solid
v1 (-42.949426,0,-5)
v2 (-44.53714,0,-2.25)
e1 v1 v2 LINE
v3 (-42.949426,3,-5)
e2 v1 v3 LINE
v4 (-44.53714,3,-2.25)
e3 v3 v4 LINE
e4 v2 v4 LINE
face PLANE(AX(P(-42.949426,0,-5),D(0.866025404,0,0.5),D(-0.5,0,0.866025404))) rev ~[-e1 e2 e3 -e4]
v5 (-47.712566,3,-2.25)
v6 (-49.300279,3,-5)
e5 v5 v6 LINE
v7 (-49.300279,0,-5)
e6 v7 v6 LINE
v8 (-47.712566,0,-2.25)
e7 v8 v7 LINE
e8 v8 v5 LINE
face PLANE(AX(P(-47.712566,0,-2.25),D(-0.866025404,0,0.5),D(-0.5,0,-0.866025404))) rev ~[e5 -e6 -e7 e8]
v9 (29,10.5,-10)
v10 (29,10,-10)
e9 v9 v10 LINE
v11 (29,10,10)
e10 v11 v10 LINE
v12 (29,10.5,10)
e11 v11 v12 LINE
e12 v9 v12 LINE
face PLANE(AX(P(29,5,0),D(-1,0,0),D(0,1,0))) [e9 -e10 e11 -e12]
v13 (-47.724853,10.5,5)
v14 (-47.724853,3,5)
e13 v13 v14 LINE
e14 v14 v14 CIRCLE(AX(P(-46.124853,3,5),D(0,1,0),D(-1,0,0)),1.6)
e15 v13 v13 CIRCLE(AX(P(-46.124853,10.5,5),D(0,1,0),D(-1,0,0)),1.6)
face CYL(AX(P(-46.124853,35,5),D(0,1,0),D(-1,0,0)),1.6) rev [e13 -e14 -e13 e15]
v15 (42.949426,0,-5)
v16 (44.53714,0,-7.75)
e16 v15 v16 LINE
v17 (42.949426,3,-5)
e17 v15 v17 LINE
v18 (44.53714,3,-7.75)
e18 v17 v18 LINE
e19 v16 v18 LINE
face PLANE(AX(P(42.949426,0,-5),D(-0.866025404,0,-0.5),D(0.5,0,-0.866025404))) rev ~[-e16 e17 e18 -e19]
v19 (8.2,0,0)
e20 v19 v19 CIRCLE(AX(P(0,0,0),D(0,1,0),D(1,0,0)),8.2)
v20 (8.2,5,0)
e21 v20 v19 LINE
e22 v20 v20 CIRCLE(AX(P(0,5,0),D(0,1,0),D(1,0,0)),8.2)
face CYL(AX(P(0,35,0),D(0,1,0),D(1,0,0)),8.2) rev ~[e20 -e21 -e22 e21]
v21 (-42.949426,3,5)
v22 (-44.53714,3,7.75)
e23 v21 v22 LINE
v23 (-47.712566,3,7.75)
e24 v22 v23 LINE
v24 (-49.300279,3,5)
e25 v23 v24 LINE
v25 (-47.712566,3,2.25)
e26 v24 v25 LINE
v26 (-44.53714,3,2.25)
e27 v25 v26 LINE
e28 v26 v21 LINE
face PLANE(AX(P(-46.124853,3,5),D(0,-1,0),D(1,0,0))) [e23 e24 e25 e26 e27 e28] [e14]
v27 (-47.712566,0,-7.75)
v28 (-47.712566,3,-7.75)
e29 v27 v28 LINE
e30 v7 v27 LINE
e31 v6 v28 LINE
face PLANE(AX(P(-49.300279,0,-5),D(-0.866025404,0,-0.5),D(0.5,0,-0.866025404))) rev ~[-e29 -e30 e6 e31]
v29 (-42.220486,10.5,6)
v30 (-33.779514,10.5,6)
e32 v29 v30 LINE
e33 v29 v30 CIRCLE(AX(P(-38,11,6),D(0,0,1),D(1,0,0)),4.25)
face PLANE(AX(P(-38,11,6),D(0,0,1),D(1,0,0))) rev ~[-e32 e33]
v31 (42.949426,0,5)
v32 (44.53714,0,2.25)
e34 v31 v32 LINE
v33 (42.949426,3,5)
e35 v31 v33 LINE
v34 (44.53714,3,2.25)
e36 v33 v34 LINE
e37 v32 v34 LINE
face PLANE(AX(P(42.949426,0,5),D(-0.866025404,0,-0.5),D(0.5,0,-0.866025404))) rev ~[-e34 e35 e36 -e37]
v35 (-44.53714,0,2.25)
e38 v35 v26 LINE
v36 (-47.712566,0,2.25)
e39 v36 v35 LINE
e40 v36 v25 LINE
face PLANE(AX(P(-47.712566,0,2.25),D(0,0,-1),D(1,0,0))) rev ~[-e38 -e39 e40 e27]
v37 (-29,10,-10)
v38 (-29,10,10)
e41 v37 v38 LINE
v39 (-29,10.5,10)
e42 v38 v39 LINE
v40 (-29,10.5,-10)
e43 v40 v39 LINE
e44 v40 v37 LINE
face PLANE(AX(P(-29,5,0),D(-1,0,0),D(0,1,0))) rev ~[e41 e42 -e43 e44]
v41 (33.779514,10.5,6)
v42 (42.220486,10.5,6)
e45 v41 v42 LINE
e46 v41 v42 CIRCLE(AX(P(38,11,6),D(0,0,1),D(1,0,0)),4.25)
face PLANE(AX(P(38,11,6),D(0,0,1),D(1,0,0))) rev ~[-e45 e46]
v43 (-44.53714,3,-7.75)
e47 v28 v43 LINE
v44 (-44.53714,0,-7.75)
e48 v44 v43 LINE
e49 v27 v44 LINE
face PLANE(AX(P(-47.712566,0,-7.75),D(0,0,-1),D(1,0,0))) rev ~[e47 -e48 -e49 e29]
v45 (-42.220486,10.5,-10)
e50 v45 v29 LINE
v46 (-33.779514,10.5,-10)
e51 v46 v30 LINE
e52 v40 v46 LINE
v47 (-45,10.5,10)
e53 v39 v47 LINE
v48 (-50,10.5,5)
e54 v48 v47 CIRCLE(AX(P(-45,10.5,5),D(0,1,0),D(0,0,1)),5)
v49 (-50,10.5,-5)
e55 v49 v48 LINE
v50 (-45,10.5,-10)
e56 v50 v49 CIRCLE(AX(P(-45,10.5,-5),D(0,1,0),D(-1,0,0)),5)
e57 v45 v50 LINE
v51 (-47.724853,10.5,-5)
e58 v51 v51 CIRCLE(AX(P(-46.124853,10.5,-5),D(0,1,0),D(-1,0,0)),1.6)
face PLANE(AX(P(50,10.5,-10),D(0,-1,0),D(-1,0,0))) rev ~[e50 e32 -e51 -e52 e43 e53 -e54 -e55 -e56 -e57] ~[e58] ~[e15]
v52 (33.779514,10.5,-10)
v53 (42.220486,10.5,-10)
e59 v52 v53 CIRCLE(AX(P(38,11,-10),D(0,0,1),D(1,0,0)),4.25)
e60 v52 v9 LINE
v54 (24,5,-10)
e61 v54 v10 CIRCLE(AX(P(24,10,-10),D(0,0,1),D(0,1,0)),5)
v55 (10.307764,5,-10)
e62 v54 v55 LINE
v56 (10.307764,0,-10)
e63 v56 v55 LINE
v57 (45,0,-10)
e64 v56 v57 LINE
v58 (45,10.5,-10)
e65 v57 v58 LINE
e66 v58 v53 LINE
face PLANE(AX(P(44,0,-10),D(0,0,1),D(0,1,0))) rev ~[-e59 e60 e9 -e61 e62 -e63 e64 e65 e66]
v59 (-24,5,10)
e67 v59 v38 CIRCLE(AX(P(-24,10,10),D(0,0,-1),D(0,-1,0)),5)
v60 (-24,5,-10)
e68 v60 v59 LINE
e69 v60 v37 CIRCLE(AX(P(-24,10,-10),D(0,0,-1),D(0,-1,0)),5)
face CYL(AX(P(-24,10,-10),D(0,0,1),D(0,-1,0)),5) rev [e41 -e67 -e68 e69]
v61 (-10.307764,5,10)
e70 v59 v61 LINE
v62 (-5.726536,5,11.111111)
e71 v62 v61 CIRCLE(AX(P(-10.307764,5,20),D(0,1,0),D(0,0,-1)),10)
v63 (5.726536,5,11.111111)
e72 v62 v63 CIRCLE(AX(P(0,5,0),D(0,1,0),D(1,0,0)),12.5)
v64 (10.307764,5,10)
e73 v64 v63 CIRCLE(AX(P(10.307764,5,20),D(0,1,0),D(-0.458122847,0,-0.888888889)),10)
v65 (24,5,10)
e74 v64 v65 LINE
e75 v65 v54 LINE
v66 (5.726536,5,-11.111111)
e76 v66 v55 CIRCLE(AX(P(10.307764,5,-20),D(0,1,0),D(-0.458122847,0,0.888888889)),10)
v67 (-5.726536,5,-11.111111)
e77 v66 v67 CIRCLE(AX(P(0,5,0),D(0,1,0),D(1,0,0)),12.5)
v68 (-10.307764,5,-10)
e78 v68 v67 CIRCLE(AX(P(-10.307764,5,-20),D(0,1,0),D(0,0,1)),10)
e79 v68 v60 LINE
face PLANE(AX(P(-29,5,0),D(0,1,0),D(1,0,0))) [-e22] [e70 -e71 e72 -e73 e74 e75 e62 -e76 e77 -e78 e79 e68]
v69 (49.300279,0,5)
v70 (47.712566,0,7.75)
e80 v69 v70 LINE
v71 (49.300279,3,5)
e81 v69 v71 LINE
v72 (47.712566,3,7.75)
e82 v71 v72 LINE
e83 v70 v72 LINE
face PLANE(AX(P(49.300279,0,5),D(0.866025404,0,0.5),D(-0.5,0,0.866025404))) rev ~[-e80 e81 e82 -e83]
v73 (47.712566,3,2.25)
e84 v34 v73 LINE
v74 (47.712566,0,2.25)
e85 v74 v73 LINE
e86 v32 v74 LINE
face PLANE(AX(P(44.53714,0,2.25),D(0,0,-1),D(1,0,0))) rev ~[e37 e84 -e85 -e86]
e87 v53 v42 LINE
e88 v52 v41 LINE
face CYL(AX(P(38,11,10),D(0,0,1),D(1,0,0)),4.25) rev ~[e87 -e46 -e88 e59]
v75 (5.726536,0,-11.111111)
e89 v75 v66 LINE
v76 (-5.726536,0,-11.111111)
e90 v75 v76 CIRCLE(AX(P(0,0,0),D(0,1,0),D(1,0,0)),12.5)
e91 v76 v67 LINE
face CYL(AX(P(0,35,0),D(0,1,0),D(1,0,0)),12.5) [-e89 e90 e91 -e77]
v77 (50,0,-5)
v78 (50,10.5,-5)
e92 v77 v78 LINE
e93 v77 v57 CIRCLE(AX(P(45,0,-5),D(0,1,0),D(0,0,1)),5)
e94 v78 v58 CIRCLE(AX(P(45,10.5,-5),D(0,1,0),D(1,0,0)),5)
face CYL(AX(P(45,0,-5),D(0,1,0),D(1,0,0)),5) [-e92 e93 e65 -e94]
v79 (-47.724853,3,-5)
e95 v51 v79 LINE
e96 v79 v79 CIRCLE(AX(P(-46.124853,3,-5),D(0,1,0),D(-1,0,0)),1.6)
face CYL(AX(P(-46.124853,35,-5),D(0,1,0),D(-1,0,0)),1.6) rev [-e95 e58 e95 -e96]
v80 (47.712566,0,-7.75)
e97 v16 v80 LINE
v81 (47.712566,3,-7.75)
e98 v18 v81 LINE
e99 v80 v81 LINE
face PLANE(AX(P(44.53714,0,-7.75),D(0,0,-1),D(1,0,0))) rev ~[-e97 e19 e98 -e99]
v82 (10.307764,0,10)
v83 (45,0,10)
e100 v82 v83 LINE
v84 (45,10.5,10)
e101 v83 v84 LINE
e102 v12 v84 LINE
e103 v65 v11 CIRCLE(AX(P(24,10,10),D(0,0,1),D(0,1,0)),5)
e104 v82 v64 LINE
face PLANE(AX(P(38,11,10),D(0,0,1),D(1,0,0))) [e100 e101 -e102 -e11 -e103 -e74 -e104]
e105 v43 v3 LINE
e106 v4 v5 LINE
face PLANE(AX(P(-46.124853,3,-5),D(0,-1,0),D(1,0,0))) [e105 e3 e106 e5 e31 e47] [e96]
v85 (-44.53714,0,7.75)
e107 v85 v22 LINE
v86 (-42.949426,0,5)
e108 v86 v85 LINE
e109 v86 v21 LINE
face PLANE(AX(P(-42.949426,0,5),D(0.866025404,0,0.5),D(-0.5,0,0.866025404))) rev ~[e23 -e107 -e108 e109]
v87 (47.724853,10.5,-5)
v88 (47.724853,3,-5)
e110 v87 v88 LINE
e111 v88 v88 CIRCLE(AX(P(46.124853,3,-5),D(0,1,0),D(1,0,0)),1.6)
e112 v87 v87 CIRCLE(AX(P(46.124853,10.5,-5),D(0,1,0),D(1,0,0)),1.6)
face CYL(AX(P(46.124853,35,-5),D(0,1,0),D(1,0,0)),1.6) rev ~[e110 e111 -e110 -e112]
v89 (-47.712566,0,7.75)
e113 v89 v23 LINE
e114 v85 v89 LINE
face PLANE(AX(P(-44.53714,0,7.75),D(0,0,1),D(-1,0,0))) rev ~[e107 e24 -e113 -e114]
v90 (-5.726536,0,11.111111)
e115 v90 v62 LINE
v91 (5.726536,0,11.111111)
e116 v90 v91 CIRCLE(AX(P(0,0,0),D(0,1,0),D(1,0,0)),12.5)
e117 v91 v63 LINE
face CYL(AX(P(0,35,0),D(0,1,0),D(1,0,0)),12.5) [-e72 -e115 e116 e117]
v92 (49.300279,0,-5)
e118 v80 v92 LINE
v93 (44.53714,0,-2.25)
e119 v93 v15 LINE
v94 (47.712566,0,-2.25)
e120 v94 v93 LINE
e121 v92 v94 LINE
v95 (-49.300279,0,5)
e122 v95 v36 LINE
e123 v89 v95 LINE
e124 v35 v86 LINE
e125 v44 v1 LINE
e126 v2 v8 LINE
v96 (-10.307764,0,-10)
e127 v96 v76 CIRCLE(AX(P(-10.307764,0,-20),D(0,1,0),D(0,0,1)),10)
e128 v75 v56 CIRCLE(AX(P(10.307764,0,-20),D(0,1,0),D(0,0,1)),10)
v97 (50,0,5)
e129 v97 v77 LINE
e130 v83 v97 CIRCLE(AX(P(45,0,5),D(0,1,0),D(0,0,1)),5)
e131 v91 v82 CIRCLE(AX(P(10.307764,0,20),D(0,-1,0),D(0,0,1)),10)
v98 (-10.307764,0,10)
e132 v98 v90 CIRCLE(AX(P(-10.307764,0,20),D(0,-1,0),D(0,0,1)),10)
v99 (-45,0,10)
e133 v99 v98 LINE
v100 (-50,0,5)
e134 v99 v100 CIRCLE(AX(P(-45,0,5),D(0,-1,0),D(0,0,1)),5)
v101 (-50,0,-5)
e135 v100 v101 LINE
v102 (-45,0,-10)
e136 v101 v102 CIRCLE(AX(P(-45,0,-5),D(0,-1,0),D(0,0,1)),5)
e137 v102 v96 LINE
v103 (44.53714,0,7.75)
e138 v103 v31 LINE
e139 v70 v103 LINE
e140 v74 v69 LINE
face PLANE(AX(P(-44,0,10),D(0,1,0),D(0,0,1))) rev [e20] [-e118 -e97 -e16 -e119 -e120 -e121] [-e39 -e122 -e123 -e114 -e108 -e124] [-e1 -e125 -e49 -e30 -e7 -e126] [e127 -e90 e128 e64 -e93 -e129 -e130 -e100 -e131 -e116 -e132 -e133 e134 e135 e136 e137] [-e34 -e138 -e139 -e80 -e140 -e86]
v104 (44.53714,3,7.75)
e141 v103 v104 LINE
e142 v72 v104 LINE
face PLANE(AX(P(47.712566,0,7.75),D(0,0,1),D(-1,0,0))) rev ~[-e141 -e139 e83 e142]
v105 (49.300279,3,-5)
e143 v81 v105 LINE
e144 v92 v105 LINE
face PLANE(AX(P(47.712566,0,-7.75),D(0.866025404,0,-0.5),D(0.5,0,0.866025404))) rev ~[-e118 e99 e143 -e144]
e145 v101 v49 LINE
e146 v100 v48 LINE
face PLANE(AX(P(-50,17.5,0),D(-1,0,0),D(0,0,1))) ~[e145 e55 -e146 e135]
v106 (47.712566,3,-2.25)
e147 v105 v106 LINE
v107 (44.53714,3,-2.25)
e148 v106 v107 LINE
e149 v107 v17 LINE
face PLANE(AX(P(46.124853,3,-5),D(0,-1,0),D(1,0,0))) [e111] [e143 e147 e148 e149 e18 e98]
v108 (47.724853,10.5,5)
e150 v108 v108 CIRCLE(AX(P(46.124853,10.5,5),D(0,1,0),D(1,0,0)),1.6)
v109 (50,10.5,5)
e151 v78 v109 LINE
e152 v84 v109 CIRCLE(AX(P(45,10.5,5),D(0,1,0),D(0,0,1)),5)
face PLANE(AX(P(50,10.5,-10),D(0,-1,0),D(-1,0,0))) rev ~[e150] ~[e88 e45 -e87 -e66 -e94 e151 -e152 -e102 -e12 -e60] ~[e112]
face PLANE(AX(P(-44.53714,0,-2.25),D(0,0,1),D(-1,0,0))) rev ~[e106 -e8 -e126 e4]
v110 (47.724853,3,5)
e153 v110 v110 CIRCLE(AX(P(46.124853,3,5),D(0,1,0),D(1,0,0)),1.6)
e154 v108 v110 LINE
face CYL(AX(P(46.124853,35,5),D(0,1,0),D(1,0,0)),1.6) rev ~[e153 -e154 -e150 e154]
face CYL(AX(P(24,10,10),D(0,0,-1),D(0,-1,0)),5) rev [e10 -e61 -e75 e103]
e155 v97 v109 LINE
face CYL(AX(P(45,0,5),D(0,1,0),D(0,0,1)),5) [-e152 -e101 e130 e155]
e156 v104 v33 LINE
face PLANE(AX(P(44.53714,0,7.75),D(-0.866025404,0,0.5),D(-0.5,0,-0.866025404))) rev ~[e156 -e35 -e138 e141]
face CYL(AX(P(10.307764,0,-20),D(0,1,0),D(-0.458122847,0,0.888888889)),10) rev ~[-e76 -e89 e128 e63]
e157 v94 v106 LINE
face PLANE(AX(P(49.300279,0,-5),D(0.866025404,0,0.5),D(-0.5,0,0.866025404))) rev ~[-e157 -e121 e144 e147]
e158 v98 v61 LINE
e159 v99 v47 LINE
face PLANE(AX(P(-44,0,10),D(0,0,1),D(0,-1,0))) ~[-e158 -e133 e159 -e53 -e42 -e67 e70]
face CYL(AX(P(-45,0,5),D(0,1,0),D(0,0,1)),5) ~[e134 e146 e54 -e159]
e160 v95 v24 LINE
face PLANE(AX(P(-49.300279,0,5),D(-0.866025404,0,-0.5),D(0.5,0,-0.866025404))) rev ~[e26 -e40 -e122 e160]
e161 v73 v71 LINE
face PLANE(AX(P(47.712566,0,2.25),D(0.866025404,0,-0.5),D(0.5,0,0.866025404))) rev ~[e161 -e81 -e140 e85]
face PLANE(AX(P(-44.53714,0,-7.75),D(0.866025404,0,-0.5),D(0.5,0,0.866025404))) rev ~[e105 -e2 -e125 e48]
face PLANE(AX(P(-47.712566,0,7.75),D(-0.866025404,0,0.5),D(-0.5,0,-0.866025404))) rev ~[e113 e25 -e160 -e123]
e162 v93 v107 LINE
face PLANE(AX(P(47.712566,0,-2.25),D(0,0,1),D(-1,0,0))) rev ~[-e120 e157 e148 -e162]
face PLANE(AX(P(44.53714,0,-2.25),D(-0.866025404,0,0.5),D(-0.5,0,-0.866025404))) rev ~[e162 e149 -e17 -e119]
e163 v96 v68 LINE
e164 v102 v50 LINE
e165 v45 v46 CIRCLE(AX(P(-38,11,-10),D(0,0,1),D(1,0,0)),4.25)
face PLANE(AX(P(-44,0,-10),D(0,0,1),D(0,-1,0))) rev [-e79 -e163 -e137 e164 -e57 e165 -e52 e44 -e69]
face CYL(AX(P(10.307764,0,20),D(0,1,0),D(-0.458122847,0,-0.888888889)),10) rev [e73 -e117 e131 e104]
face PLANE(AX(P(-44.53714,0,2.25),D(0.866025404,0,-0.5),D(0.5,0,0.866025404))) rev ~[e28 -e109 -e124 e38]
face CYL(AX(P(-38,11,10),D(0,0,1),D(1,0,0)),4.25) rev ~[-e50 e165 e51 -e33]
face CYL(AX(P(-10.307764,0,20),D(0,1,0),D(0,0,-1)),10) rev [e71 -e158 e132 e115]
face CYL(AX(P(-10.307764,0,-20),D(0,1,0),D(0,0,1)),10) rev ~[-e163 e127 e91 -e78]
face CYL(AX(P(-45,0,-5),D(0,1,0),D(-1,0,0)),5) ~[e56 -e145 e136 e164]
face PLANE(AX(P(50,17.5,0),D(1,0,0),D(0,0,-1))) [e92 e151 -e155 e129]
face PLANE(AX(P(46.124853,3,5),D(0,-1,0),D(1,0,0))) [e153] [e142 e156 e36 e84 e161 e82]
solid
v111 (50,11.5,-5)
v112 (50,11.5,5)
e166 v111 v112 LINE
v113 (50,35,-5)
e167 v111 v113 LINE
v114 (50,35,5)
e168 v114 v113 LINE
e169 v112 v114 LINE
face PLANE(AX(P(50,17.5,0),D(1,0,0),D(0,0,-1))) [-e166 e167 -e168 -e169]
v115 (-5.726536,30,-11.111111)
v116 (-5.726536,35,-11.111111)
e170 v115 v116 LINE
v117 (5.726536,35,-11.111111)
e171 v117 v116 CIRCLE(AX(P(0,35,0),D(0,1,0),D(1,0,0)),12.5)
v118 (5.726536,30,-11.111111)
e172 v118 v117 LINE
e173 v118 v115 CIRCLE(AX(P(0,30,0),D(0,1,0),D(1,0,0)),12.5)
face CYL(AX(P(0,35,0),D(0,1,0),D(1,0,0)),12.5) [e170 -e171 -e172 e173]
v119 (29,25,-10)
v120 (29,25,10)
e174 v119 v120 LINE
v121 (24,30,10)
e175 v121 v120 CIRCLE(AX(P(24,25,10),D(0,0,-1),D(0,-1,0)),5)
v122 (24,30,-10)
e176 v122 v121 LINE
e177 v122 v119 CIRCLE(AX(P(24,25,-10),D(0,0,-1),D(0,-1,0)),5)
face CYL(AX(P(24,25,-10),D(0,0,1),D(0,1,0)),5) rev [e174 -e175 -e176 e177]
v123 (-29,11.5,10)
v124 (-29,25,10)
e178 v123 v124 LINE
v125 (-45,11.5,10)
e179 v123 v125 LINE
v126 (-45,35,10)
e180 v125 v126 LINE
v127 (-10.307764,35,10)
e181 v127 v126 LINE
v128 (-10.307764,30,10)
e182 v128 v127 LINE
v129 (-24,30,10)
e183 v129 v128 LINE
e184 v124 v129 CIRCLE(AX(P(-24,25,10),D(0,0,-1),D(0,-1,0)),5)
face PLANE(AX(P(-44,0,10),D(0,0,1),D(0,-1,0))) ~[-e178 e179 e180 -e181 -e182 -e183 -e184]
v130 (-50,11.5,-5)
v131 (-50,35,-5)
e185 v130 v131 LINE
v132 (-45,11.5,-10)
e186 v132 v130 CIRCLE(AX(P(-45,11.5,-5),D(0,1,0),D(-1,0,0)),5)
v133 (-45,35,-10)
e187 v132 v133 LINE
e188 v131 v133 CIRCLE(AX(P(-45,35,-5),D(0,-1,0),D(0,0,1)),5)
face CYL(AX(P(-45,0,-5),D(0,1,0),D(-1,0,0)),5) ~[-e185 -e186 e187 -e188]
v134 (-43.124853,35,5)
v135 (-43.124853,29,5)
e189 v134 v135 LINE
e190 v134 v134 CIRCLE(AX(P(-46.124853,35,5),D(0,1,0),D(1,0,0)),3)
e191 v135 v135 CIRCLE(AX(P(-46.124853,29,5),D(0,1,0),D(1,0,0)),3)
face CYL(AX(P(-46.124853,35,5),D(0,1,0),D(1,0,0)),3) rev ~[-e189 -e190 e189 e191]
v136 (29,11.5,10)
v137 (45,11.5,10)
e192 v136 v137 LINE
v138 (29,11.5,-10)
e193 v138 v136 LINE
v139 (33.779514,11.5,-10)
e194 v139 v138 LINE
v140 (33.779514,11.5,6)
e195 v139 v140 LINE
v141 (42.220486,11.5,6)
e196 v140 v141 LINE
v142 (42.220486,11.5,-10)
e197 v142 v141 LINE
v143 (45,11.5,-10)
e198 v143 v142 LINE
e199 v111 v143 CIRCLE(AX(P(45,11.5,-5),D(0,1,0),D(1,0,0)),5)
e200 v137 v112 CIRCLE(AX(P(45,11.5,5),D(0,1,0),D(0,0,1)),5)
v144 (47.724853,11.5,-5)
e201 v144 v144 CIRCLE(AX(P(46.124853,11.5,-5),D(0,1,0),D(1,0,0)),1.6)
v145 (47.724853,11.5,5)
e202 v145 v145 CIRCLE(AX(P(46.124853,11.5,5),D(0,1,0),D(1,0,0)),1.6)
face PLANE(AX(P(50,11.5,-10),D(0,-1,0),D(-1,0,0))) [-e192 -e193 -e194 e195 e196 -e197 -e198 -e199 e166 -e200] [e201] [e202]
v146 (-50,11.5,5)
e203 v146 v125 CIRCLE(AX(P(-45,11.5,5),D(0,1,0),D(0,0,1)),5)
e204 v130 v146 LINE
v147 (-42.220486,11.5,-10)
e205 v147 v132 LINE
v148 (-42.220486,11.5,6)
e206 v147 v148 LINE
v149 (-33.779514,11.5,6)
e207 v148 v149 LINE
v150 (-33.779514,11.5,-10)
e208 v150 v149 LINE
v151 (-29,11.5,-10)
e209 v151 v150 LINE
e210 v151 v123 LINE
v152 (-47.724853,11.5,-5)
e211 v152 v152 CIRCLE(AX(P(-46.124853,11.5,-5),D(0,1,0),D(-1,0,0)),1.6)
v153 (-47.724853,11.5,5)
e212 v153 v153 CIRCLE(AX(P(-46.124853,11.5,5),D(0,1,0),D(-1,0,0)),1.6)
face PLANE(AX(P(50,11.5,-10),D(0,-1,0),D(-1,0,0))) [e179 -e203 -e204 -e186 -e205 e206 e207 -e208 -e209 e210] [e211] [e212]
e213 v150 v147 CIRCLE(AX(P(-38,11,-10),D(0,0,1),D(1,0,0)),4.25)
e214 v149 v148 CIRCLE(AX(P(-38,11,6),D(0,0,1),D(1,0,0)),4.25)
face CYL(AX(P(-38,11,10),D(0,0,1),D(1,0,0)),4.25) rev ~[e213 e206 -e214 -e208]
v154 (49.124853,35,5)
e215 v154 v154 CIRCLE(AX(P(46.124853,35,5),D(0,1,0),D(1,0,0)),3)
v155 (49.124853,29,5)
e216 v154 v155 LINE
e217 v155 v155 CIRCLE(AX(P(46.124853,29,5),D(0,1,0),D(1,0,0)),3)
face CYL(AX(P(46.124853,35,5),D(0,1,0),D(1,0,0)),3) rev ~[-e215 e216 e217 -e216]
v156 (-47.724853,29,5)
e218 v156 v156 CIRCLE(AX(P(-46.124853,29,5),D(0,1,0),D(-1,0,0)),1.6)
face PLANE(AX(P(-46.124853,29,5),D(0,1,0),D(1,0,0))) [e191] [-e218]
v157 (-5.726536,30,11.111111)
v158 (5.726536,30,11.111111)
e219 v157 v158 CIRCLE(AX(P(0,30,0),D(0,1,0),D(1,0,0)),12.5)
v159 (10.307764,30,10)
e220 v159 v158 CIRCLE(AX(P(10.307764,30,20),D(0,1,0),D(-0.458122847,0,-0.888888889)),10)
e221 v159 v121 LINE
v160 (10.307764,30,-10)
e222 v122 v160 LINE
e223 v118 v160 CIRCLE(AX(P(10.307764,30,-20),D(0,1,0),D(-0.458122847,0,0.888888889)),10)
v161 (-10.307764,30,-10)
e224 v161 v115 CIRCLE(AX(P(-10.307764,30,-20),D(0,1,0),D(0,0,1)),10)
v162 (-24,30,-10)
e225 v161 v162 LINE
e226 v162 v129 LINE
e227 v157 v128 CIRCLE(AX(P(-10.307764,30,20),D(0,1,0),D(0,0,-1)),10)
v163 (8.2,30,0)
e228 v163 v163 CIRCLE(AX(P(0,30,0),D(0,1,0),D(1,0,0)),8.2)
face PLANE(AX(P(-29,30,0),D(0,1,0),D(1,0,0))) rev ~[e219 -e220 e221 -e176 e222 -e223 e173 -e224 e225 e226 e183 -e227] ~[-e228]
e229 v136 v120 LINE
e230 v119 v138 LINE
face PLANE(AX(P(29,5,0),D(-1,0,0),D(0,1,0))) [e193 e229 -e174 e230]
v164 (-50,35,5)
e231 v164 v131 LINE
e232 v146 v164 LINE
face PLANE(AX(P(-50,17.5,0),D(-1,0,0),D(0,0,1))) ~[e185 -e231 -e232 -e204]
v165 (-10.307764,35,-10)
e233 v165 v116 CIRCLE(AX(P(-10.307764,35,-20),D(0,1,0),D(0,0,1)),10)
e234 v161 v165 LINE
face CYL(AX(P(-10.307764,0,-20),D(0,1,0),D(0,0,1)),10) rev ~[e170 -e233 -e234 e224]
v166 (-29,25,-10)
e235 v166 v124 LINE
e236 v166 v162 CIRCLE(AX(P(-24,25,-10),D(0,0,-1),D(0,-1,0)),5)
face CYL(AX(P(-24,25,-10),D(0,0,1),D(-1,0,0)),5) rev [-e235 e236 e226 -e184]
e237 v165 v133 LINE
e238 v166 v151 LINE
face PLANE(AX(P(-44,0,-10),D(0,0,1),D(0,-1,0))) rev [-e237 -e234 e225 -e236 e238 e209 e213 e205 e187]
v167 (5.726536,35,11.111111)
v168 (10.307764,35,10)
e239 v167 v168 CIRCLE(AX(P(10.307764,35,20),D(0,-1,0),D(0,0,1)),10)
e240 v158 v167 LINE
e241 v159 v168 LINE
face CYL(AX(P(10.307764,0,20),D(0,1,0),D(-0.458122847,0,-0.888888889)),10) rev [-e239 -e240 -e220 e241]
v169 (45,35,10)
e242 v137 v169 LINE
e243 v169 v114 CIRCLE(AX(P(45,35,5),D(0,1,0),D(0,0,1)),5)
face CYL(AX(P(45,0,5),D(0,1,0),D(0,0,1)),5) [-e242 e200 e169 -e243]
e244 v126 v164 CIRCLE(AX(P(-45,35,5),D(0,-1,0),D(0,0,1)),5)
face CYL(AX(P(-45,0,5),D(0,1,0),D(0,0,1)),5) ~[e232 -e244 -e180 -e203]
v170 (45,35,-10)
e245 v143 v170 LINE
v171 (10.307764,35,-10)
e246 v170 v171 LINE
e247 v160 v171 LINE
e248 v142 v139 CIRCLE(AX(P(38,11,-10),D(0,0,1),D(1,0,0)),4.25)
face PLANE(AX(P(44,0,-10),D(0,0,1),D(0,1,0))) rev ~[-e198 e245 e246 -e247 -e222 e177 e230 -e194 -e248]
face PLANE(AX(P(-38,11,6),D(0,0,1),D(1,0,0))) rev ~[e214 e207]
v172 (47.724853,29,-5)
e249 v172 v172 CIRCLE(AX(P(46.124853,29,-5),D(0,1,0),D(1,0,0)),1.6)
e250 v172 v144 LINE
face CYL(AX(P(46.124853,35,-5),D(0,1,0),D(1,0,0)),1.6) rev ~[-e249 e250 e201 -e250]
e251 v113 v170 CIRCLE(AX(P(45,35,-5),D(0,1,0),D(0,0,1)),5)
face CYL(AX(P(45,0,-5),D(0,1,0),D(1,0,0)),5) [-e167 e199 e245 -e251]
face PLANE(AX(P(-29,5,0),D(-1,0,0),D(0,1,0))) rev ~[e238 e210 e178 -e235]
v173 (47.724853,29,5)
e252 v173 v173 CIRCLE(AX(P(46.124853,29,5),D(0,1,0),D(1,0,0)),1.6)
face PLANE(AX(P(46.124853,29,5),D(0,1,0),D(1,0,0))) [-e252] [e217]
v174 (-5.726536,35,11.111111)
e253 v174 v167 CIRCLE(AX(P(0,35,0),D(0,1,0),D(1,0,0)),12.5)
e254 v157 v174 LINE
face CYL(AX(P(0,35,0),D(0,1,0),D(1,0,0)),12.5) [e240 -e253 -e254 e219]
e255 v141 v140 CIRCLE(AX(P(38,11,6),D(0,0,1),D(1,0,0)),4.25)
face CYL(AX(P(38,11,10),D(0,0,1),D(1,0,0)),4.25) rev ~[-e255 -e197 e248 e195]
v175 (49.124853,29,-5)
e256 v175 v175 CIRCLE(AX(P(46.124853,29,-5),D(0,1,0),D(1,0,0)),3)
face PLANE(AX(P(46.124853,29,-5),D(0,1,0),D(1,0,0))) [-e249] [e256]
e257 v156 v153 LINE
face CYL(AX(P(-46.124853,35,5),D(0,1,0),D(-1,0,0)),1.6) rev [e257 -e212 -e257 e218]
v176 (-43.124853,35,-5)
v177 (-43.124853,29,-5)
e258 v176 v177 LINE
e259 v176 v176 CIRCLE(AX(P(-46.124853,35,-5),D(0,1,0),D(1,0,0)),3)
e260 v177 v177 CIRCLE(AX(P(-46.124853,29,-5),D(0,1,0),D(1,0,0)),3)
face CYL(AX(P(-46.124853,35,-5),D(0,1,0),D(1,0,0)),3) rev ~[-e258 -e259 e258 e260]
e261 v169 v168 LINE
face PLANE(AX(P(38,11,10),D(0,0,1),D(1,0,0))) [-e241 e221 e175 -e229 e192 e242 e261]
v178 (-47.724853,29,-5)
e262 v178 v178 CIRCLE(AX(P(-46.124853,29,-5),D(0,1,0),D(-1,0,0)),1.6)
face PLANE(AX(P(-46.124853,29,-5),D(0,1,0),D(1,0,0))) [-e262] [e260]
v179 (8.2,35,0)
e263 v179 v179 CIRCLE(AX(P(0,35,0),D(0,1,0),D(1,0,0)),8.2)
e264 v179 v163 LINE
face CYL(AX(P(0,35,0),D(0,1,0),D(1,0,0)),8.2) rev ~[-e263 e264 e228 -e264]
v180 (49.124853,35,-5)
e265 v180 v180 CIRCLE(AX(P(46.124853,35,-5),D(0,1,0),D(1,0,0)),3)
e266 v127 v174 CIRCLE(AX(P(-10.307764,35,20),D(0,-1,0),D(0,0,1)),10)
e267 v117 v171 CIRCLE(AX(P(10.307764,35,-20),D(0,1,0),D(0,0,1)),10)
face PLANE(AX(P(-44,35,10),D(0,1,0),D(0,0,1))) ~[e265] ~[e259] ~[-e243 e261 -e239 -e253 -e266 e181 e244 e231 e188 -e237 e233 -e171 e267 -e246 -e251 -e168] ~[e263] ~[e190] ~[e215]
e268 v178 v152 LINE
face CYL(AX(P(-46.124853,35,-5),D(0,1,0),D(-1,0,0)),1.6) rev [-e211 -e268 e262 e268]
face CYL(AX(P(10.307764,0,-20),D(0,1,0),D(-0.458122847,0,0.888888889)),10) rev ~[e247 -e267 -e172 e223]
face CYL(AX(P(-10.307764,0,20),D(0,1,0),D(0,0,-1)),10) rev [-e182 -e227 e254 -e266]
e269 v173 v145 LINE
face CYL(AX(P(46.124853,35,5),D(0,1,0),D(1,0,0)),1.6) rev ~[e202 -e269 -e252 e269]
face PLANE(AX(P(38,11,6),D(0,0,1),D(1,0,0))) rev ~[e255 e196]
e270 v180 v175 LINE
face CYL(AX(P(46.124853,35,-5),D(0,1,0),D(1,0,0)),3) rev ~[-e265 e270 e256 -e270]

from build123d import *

# Parameters (mm, degrees)
SKETCH1_W               = 88
SKETCH1_H               = 20
BOSS_EXTRUDE1_DEPTH     = 35
SKETCH2_R               = 4.25
CUT_EXTRUDE1_DEPTH      = 21
SKETCH7_R               = 12.5
BOSS_EXTRUDE2_DEPTH     = 35
SKETCH4_R               = 8.2
CUT_EXTRUDE3_DEPTH      = 36
FILLET2_R               = 10
SKETCH10_W              = 58
SKETCH10_H              = 25
CUT_EXTRUDE5_DEPTH      = 13.5
CUT_EXTRUDE5_DEPTH_BACK = 13.5
FILLET3_R               = 5
SKETCH11_W              = 20
SKETCH11_H              = 35
BOSS_EXTRUDE3_DEPTH     = 6
SKETCH12_R              = 1.6
CUT_EXTRUDE6_DEPTH      = 36
FILLET5_R               = 5
SKETCH13_R              = 4.25
BOSS_EXTRUDE4_DEPTH     = 4
SKETCH14_W              = 100
SKETCH14_H              = 1
CUT_EXTRUDE7_DEPTH      = 23.5
SKETCH15_R              = 3
CUT_EXTRUDE8_DEPTH      = 6
CUT_EXTRUDE9_DEPTH      = 3


with BuildPart() as part:
    # Sketch1 → Boss-Extrude1 (new body)
    with BuildSketch(Plane(origin=(0, 0, 0), x_dir=(1, 0, 0), z_dir=(0, 1, 0))):
        Rectangle(SKETCH1_W, SKETCH1_H)
    extrude(amount=BOSS_EXTRUDE1_DEPTH)

    # Sketch2 → Cut-Extrude1 (cut, through all)
    with BuildSketch(Plane.XY.offset(10)):
        with Locations((-38, 11)):
            Circle(SKETCH2_R)
        with Locations((38, 11)):
            Circle(SKETCH2_R)
    extrude(amount=-CUT_EXTRUDE1_DEPTH, mode=Mode.SUBTRACT)

    # Sketch7 → Boss-Extrude2 (add)
    with BuildSketch(Plane(origin=(0, 35, 0), x_dir=(1, 0, 0), z_dir=(0, 1, 0))):
        Circle(SKETCH7_R)
    extrude(amount=-BOSS_EXTRUDE2_DEPTH)

    # Sketch4 → Cut-Extrude3 (cut, through all)
    with BuildSketch(Plane(origin=(0, 35, 0), x_dir=(1, 0, 0), z_dir=(0, 1, 0))):
        Circle(SKETCH4_R)
    extrude(amount=-CUT_EXTRUDE3_DEPTH, mode=Mode.SUBTRACT)

    # Fillet2
    fillet2_edges = [part.edges().sort_by_distance(p)[0] for p in [
        (7.5, 17.5, -10),
        (7.5, 17.5, 10),
        (-7.5, 17.5, -10),
        (-7.5, 17.5, 10),
    ]]
    fillet(fillet2_edges, radius=FILLET2_R)

    # Sketch10 → Cut-Extrude5 (cut, two sides)
    with BuildSketch(Plane.XY) as cut_extrude5_sk:
        with Locations((0, 17.5)):
            Rectangle(SKETCH10_W, SKETCH10_H)
    extrude(amount=CUT_EXTRUDE5_DEPTH, mode=Mode.SUBTRACT)
    extrude(cut_extrude5_sk.sketch, amount=-CUT_EXTRUDE5_DEPTH_BACK, mode=Mode.SUBTRACT)

    # Fillet3
    fillet3_edges = [part.edges().sort_by_distance(p)[0] for p in [
        (-29, 30, 0),
        (-29, 5, 0),
        (29, 30, 0),
        (29, 5, 0),
    ]]
    fillet(fillet3_edges, radius=FILLET3_R)

    # Sketch11 → Boss-Extrude3 (add)
    with BuildSketch(Plane(origin=(44, 0, 0), x_dir=(0, 0, -1), z_dir=(1, 0, 0))):
        with Locations((0, 17.5)):
            Rectangle(SKETCH11_W, SKETCH11_H)
    boss_extrude3 = extrude(amount=BOSS_EXTRUDE3_DEPTH)

    # Sketch12 → Cut-Extrude6 (cut, through all)
    with BuildSketch(Plane(origin=(0, 35, 0), x_dir=(1, 0, 0), z_dir=(0, 1, 0))):
        with Locations((46.124852936, 5)):
            Circle(SKETCH12_R)
        with Locations((46.124852936, -5)):
            Circle(SKETCH12_R)
    cut_extrude6 = extrude(amount=-CUT_EXTRUDE6_DEPTH, mode=Mode.SUBTRACT)

    # Mirror1: Boss-Extrude3, Cut-Extrude6 across plane
    add(boss_extrude3.mirror(Plane(origin=(0, 0, 0), x_dir=(0, 0, 1), z_dir=(1, 0, 0))))
    add(cut_extrude6.mirror(Plane(origin=(0, 0, 0), x_dir=(0, 0, 1), z_dir=(1, 0, 0))), mode=Mode.SUBTRACT)

    # Fillet5
    fillet5_edges = [part.edges().sort_by_distance(p)[0] for p in [
        (50, 17.5, -10),
        (50, 17.5, 10),
        (-50, 17.5, 10),
        (-50, 17.5, -10),
    ]]
    fillet(fillet5_edges, radius=FILLET5_R)

    # Sketch13 → Boss-Extrude4 (add)
    with BuildSketch(Plane.XY.offset(10)):
        with Locations((38, 11)):
            Circle(SKETCH13_R)
        with Locations((-38, 11)):
            Circle(SKETCH13_R)
    extrude(amount=-BOSS_EXTRUDE4_DEPTH)

    # Sketch14 → Cut-Extrude7 (cut, through all)
    with BuildSketch(Plane(origin=(0, 0, -10), x_dir=(-1, 0, 0), z_dir=(0, 0, -1))):
        with Locations((0, 11)):
            Rectangle(SKETCH14_W, SKETCH14_H)
    extrude(amount=-CUT_EXTRUDE7_DEPTH, mode=Mode.SUBTRACT)

    # Sketch15 → Cut-Extrude8 (cut)
    with BuildSketch(Plane(origin=(0, 35, 0), x_dir=(1, 0, 0), z_dir=(0, 1, 0))):
        with Locations((-46.124852936, 5)):
            Circle(SKETCH15_R)
        with Locations((-46.124852936, -5)):
            Circle(SKETCH15_R)
        with Locations((46.124852936, 5)):
            Circle(SKETCH15_R)
        with Locations((46.124852936, -5)):
            Circle(SKETCH15_R)
    extrude(amount=-CUT_EXTRUDE8_DEPTH, mode=Mode.SUBTRACT)

    # Sketch16 → Cut-Extrude9 (cut)
    with BuildSketch(Plane.XZ):
        Polygon((-42.949426456, 5), (-44.537139696, 7.75), (-47.712566176, 7.75), (-49.300279417, 5), (-47.712566176, 2.25), (-44.537139696, 2.25), align=None)
        Polygon((-42.949426456, -5), (-44.537139696, -2.25), (-47.712566176, -2.25), (-49.300279417, -5), (-47.712566176, -7.75), (-44.537139696, -7.75), align=None)
        Polygon((49.300279417, 5), (47.712566176, 7.75), (44.537139696, 7.75), (42.949426456, 5), (44.537139696, 2.25), (47.712566176, 2.25), align=None)
        Polygon((49.300279417, -5), (47.712566176, -2.25), (44.537139696, -2.25), (42.949426456, -5), (44.537139696, -7.75), (47.712566176, -7.75), align=None)
    extrude(amount=-CUT_EXTRUDE9_DEPTH, mode=Mode.SUBTRACT)


solid = part.part
